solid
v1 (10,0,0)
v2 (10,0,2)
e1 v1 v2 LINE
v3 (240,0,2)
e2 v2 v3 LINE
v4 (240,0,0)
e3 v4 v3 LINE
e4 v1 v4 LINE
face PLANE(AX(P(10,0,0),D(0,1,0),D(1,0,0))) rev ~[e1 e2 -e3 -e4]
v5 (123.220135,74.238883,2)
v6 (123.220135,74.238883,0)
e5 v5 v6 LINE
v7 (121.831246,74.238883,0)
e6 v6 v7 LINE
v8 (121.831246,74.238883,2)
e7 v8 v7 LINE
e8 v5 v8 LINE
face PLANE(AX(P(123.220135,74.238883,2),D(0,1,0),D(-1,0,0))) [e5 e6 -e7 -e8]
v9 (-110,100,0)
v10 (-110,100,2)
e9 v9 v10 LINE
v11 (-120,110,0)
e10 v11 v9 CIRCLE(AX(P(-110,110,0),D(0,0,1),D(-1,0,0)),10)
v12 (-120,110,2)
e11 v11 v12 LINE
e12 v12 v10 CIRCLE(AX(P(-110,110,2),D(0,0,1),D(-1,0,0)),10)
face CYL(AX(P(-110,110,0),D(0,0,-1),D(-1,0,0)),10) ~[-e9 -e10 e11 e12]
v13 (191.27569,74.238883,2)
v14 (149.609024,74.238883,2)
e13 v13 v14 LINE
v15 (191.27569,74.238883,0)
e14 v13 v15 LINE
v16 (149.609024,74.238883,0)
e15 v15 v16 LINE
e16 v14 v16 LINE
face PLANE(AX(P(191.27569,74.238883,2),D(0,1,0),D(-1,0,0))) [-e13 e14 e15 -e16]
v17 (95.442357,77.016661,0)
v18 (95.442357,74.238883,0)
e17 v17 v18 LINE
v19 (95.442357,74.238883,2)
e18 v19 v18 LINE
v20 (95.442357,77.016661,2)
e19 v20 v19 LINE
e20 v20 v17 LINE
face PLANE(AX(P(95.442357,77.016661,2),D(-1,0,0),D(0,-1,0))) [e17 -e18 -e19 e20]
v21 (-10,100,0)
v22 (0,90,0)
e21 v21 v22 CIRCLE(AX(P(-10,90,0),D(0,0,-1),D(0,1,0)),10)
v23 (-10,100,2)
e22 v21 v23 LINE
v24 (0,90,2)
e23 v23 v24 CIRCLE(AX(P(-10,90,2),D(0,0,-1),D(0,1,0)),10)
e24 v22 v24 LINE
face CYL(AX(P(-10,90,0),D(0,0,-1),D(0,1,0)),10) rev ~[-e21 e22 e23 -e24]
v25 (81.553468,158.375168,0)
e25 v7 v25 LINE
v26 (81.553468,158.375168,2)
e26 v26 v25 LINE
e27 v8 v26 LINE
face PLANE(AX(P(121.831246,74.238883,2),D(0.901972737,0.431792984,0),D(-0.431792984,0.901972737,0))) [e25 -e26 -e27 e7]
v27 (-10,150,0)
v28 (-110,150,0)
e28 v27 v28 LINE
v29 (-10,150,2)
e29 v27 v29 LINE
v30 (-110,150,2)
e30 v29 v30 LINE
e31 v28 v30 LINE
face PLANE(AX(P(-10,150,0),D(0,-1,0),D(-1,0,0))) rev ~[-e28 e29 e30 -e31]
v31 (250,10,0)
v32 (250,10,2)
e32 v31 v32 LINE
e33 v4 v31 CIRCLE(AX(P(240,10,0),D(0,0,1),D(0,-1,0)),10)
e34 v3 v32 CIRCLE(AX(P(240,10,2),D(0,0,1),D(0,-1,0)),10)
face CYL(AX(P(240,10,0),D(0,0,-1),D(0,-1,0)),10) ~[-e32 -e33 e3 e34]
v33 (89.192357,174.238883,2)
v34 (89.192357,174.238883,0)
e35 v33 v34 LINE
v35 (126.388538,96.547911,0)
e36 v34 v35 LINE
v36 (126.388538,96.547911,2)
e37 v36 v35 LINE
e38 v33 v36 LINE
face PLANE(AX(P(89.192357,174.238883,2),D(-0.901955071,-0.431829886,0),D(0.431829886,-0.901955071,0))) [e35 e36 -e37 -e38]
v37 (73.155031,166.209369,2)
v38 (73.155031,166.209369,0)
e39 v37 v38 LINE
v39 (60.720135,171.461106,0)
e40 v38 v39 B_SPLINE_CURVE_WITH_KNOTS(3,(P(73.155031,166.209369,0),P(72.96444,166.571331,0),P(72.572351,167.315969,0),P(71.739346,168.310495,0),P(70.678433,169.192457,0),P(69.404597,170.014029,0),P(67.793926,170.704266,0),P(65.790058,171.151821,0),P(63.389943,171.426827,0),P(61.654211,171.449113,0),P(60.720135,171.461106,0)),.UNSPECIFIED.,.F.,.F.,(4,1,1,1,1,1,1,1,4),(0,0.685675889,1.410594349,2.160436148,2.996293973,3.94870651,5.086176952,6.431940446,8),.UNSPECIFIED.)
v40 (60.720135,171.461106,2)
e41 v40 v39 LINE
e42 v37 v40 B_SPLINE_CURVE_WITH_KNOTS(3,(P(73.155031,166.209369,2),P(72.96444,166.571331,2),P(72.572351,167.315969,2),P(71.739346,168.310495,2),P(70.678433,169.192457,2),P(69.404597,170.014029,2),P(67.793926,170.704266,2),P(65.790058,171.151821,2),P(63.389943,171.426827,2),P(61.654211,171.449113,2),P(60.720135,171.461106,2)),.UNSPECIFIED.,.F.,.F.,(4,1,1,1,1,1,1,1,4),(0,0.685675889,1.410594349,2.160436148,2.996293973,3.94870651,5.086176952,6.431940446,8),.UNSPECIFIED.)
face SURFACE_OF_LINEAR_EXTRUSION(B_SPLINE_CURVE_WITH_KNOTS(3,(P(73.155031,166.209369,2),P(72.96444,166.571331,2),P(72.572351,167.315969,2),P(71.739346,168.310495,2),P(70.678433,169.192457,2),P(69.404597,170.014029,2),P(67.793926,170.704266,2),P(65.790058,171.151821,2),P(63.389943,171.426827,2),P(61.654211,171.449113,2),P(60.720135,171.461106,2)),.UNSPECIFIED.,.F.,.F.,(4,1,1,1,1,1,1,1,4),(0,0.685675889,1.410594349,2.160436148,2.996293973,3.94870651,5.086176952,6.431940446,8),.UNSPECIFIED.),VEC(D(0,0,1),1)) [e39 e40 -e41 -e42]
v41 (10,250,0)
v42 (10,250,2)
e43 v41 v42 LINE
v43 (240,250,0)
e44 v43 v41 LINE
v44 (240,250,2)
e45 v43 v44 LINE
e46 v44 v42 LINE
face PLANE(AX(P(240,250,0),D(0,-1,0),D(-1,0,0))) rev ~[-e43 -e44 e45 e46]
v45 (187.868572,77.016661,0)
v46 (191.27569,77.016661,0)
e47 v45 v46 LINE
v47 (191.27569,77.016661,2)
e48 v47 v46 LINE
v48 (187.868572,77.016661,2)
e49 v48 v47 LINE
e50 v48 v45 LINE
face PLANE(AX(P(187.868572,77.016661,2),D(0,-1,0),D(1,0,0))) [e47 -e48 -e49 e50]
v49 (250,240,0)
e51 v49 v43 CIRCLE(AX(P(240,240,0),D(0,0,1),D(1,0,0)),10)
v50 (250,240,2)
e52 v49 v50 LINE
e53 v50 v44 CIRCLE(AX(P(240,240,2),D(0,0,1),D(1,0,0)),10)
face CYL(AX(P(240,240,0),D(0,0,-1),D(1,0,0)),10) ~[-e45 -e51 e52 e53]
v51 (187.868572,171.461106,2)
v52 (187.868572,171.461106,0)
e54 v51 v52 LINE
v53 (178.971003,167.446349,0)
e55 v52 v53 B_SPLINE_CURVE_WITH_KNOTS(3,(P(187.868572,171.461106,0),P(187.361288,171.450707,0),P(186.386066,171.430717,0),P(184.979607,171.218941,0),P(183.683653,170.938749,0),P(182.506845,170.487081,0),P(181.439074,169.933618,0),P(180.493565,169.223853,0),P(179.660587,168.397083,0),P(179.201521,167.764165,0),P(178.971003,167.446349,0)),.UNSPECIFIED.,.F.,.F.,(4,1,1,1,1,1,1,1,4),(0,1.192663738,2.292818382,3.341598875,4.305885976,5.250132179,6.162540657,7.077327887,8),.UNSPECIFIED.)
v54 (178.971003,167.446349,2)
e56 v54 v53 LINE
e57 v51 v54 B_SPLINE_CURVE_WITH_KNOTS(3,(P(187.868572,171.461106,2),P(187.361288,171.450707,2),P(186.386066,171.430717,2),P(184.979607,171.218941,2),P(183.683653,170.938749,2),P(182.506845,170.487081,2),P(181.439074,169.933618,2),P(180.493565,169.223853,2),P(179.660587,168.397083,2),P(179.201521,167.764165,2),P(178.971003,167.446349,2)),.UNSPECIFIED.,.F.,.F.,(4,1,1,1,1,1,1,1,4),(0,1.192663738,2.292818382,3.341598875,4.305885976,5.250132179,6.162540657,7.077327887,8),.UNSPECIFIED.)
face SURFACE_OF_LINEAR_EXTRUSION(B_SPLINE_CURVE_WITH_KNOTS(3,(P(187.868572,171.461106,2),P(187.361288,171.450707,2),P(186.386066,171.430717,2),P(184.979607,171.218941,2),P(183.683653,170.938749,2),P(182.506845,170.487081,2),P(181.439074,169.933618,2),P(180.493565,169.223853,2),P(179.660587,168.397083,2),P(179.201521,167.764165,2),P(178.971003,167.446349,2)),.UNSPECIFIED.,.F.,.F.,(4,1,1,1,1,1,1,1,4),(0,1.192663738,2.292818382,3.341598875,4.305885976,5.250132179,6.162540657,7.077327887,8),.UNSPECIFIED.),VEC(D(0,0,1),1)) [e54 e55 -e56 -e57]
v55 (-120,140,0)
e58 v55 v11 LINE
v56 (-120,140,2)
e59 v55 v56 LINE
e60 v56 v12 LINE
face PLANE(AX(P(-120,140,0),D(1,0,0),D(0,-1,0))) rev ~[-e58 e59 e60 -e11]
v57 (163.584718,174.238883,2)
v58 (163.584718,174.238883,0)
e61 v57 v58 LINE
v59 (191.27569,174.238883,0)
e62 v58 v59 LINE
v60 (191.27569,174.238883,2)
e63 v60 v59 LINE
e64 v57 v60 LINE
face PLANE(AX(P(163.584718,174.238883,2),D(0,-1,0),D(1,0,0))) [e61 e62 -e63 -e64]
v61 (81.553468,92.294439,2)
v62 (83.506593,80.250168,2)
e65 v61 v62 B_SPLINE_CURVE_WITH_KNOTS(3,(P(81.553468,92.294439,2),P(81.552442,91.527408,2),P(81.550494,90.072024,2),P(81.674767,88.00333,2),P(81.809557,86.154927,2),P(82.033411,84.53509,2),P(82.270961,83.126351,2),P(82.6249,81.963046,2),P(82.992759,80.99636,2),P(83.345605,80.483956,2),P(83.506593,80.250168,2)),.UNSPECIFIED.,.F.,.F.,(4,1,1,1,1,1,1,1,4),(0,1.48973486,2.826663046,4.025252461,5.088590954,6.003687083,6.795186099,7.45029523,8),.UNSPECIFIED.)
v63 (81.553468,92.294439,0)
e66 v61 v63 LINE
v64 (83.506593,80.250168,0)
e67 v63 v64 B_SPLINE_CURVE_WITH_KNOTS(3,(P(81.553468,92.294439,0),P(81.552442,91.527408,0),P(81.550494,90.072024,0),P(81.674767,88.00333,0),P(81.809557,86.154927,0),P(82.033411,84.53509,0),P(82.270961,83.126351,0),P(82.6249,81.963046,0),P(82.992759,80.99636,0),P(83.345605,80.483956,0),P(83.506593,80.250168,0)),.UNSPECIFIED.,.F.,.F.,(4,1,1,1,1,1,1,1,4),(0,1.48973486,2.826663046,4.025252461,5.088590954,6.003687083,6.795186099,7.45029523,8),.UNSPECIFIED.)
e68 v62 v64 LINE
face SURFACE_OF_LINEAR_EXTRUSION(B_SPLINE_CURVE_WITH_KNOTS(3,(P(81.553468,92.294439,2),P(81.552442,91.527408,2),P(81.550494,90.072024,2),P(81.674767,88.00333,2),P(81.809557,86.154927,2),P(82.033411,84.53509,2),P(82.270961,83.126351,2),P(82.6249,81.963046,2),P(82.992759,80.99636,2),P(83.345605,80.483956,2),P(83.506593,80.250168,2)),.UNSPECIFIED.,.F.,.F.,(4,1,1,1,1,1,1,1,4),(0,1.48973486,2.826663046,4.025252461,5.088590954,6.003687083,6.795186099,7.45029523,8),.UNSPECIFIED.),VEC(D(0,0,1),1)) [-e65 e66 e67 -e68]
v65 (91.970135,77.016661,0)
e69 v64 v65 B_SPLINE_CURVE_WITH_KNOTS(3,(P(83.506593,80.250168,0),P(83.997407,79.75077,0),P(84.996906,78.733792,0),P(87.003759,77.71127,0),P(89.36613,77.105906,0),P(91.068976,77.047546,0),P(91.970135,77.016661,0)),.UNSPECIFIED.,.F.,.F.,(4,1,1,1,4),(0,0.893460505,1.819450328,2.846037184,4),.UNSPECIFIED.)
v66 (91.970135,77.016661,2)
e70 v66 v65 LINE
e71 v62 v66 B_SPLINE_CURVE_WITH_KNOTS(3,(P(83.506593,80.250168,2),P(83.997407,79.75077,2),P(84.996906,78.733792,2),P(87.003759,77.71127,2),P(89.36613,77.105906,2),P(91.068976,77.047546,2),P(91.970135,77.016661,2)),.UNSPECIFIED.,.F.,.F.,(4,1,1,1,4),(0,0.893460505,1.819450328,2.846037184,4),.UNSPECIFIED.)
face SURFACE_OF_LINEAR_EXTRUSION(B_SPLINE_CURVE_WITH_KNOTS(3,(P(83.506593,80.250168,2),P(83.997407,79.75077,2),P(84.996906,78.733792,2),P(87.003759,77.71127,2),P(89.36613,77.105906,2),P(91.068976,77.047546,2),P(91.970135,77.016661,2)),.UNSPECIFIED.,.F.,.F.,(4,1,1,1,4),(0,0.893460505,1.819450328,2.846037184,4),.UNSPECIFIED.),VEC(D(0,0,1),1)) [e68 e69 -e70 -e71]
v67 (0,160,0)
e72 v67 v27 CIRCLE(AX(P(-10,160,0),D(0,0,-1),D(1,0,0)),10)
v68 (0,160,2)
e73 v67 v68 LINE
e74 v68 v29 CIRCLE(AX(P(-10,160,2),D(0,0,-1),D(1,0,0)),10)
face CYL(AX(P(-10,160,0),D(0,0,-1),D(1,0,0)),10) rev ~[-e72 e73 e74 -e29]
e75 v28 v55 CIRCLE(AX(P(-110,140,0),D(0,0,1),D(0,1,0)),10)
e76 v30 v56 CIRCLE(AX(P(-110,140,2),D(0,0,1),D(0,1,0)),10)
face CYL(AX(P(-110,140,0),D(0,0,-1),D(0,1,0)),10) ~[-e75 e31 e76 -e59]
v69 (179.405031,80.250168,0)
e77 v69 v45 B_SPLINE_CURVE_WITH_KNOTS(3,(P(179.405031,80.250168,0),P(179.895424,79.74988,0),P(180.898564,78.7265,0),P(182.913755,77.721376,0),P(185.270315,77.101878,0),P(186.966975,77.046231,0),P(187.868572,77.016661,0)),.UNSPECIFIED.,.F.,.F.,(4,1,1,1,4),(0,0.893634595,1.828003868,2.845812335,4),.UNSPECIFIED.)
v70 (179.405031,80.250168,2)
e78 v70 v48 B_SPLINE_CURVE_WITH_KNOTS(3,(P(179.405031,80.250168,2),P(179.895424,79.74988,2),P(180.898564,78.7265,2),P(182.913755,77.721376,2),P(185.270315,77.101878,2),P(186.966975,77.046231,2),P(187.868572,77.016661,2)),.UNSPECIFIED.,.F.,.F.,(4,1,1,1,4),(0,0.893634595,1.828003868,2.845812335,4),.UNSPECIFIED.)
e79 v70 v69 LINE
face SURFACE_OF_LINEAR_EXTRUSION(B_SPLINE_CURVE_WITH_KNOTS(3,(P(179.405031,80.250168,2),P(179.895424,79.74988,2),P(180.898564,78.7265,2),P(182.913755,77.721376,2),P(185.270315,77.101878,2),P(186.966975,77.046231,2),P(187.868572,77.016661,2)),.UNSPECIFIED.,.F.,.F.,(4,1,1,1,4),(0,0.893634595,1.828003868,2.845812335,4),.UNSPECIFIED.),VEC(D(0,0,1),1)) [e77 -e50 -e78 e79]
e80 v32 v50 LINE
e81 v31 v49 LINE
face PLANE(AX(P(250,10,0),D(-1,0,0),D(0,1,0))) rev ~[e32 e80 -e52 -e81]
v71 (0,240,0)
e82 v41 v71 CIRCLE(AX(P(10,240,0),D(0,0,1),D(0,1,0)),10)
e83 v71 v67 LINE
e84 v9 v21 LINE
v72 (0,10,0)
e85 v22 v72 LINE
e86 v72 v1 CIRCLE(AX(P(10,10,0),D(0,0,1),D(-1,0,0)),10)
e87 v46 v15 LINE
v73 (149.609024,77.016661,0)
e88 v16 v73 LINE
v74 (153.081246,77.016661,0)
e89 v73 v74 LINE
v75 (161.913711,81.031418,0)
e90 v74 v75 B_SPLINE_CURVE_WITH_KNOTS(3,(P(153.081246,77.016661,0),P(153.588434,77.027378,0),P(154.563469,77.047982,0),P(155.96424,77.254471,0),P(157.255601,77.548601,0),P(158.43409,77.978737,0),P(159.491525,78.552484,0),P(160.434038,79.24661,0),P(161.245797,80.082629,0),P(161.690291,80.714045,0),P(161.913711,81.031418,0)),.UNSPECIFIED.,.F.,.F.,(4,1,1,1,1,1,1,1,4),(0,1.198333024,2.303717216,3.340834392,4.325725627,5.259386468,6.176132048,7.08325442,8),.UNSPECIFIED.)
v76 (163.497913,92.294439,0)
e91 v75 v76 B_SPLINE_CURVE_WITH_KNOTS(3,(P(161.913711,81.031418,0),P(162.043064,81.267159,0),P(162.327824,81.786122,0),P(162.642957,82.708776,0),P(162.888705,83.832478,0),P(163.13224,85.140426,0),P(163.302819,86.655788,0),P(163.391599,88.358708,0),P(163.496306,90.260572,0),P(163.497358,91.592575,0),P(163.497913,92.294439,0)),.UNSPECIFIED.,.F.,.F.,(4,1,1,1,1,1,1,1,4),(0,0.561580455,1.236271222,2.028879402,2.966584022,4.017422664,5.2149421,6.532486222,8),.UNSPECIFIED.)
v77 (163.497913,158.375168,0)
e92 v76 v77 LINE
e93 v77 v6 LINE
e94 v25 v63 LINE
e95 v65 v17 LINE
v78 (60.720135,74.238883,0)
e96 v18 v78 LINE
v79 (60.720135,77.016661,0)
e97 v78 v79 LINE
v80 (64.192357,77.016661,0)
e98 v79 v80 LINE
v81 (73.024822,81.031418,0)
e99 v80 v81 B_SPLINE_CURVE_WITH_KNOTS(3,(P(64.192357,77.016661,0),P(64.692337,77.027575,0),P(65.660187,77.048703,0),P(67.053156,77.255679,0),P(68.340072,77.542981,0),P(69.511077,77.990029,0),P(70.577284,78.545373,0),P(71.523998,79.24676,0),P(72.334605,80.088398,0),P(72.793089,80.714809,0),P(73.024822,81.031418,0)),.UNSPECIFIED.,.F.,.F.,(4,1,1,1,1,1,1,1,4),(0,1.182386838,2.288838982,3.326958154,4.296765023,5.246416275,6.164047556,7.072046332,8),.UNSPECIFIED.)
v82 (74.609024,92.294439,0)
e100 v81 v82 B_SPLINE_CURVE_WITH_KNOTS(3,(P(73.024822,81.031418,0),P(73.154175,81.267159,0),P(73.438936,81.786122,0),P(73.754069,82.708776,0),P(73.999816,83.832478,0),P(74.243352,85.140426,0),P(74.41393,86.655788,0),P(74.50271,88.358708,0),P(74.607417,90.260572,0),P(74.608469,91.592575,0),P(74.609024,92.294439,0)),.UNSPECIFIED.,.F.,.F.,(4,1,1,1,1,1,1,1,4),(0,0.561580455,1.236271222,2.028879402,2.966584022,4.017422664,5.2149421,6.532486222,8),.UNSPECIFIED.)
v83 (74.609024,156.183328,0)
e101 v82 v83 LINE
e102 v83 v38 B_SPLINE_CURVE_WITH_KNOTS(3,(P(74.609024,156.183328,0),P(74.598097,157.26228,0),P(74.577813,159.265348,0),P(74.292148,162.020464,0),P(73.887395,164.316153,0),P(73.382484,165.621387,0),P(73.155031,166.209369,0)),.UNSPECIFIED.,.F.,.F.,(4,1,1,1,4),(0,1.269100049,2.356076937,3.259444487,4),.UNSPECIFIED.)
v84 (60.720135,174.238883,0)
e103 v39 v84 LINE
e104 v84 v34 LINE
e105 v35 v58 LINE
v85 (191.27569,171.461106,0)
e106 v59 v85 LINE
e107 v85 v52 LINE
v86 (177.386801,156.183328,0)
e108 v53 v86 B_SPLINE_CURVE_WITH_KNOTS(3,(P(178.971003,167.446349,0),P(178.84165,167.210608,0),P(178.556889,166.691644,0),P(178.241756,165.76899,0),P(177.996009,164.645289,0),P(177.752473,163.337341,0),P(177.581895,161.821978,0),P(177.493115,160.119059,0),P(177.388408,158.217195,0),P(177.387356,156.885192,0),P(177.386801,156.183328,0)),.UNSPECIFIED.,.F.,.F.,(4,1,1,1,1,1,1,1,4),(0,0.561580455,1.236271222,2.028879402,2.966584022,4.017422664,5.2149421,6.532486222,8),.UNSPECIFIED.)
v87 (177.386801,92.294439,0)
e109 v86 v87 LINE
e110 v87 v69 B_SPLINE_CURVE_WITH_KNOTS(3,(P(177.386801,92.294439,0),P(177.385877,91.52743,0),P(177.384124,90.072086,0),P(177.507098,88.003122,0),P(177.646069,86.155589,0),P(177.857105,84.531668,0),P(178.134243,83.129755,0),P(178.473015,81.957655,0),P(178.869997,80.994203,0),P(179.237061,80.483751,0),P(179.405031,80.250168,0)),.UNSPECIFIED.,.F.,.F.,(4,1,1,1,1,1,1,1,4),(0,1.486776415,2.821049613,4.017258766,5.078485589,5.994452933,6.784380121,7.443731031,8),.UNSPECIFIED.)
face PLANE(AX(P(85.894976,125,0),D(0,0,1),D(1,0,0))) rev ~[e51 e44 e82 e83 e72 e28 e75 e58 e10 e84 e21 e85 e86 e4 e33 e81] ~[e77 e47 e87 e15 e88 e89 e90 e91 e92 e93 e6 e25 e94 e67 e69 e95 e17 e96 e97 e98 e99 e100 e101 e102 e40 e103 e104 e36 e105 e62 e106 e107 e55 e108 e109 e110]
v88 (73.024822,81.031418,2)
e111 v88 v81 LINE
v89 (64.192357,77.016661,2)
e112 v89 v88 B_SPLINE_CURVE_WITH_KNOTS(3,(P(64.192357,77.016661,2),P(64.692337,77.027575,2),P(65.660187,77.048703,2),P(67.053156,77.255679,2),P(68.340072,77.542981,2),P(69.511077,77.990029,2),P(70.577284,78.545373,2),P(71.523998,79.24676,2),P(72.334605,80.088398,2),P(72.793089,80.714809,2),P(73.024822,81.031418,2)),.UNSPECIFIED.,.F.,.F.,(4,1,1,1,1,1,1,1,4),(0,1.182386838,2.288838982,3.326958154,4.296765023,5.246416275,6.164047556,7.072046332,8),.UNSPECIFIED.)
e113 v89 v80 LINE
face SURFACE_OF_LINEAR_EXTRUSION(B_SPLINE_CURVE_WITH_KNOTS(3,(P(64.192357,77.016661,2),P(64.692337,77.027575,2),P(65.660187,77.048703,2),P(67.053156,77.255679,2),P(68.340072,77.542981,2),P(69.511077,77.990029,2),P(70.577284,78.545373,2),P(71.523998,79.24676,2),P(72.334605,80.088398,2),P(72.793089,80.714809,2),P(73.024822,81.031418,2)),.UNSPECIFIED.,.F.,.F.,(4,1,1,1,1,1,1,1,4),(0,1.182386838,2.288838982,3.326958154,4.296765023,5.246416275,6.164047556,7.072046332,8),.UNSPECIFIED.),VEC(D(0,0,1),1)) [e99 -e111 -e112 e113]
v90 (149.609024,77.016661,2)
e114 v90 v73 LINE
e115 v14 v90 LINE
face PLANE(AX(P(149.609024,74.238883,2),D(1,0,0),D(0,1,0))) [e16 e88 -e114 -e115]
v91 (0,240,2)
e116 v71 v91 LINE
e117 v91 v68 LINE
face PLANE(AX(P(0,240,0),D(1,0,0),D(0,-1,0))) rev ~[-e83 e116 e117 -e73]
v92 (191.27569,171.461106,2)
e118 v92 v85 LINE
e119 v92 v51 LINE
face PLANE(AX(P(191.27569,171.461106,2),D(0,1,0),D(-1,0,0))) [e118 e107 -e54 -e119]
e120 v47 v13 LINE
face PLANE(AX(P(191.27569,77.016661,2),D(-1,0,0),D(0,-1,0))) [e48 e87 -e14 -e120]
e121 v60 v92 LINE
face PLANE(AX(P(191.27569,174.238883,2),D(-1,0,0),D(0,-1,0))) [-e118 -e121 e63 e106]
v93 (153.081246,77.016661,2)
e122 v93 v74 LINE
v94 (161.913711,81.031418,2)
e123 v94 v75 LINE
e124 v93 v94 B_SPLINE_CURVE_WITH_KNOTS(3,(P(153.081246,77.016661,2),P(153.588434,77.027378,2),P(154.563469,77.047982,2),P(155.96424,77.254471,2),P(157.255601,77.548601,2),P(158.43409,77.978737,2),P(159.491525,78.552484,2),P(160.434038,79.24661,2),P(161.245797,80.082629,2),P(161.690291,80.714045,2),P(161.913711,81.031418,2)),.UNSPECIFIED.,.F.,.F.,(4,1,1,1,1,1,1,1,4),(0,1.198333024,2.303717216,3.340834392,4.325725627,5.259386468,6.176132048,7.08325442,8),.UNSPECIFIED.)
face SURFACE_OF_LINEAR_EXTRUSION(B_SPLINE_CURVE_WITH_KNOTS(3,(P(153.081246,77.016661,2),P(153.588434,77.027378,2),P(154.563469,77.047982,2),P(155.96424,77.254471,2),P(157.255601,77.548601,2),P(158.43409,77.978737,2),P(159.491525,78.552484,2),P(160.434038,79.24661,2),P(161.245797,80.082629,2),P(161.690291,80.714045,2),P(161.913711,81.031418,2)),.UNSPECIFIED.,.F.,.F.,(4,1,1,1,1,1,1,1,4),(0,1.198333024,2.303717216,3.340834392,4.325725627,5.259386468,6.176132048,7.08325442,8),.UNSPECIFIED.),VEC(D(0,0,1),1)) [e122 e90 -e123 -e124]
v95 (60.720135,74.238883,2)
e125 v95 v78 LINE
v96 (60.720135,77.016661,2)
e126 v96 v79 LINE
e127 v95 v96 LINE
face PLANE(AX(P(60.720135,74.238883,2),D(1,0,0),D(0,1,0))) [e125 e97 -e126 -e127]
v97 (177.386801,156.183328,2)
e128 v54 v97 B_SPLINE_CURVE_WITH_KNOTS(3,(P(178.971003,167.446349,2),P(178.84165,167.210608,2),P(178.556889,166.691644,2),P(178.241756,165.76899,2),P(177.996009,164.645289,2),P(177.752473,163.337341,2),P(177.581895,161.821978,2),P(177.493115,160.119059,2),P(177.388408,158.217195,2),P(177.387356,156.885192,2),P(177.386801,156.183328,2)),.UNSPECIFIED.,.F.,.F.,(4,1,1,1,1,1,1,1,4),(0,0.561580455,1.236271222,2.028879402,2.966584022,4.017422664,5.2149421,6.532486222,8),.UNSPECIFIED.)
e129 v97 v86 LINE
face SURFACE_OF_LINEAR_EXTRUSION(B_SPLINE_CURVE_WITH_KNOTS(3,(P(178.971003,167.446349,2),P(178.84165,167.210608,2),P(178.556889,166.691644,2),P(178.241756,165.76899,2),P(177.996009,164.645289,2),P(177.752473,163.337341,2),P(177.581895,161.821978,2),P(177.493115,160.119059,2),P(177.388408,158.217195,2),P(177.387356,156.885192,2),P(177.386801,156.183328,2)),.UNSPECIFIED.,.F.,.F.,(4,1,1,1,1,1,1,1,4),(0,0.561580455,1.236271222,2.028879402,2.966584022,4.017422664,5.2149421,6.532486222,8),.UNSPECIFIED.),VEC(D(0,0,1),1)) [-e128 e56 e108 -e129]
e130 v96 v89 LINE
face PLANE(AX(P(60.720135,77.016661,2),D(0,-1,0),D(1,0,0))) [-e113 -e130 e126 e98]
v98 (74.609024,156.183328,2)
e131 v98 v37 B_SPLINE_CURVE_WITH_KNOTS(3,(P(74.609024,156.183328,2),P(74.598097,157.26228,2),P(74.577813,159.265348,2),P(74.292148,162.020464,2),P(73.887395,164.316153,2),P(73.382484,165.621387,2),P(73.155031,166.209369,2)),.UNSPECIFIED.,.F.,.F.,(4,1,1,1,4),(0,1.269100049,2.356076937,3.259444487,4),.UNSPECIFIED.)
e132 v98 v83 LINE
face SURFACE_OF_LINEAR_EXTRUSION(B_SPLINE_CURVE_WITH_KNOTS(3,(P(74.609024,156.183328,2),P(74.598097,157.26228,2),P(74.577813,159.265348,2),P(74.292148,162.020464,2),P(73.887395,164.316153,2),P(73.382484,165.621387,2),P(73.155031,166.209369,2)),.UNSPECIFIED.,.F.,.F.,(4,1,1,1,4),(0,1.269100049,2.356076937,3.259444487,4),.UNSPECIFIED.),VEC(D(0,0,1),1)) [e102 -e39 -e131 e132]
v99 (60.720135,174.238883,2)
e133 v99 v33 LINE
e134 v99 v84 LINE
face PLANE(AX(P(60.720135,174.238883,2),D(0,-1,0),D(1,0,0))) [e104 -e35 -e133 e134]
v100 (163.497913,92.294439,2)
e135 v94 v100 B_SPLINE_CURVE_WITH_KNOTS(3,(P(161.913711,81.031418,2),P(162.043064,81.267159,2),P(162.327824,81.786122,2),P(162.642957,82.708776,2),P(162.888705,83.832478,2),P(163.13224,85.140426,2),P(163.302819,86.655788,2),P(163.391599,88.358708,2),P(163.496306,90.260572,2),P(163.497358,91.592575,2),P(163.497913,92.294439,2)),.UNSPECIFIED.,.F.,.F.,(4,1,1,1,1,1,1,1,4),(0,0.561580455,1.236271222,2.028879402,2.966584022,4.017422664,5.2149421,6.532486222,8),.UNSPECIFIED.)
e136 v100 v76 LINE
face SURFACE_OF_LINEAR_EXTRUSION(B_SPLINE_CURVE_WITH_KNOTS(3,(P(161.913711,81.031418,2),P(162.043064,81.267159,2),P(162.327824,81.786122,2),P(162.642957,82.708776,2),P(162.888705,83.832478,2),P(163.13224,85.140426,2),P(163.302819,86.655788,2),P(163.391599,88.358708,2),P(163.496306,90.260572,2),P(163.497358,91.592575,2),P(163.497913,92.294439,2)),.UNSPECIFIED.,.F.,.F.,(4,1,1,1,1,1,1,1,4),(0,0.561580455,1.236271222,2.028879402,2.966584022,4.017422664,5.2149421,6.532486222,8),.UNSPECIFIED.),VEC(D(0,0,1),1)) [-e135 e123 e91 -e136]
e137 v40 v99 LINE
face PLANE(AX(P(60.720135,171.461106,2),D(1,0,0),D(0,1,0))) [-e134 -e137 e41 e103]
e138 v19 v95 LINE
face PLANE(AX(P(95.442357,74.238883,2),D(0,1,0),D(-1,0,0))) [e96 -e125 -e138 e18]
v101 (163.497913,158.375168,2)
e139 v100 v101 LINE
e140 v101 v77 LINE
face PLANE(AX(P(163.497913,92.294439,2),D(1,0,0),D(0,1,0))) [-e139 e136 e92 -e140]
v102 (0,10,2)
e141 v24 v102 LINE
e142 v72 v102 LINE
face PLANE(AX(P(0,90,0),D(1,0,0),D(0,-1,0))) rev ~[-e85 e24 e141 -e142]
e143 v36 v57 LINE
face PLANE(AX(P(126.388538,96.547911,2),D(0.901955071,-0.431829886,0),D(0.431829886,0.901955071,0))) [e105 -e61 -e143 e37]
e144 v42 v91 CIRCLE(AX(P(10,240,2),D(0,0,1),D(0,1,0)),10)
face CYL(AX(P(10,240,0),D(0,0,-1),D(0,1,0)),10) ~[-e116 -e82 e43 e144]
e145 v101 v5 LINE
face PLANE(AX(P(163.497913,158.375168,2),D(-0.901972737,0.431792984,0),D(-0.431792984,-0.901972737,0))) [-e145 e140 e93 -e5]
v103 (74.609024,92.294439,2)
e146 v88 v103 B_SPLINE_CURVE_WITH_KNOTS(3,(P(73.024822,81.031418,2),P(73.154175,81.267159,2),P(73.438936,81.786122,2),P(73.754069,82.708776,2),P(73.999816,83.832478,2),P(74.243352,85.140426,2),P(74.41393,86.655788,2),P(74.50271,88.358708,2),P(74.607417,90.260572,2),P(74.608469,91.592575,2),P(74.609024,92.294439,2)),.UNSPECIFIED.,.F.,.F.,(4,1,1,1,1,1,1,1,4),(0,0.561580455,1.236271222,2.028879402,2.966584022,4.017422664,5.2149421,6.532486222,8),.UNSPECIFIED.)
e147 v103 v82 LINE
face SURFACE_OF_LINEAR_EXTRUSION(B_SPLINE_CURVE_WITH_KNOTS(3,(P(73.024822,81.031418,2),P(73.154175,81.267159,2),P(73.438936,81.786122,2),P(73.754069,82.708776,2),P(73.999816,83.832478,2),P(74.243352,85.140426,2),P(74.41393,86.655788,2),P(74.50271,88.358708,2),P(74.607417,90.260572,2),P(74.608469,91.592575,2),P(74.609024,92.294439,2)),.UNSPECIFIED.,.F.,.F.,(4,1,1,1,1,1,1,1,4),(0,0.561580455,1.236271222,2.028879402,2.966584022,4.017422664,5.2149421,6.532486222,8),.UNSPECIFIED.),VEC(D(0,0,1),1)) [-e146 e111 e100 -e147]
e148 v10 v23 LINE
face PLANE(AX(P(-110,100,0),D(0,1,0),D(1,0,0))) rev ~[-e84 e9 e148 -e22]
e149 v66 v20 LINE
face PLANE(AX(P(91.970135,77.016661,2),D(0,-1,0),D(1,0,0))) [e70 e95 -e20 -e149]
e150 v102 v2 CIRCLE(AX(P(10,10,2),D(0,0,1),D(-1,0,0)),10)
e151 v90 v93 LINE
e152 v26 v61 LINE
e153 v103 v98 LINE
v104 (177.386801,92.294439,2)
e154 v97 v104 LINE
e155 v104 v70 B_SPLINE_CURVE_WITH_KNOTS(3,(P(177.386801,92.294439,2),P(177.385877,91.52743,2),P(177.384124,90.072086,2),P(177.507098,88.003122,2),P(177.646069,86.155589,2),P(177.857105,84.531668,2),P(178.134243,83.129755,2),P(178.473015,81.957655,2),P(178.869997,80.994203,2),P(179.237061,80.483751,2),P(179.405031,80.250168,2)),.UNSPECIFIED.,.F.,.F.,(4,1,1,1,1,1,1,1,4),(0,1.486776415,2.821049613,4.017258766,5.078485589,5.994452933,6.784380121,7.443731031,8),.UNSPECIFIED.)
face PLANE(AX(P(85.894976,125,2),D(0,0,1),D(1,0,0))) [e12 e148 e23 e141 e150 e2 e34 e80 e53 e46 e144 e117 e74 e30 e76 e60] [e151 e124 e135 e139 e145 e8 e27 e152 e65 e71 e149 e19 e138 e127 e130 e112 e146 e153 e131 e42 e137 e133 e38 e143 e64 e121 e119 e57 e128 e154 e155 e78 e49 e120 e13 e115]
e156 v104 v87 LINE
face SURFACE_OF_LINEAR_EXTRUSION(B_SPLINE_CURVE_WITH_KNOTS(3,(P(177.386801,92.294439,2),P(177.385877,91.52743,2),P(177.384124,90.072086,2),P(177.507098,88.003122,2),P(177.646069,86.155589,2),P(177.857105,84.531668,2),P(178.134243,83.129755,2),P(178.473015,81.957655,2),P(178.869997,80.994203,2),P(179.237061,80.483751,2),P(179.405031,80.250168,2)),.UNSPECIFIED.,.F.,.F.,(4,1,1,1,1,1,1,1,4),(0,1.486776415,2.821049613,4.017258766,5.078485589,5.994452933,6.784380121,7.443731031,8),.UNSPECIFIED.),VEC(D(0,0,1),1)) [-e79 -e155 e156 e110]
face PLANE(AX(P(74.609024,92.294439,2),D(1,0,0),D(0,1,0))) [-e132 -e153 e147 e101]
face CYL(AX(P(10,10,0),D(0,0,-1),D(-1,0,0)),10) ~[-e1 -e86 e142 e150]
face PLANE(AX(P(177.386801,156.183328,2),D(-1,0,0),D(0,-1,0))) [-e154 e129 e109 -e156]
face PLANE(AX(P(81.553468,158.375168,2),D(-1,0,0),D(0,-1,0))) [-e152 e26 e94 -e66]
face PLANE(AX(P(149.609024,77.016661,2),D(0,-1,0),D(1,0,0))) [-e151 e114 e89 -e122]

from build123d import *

# Parameters (mm, degrees)
BOSS_EXTRUDE1_DEPTH = 2
CUT_EXTRUDE1_DEPTH  = 2


with BuildPart() as part:
    # Sketch1 → Boss-Extrude1 (new body)
    with BuildSketch(Plane.XY):
        with BuildLine():
            Line((10, 0), (240, 0))
            ThreePointArc((240, 0), (247.071067812, 2.928932188), (250, 10))
            Line((250, 10), (250, 240))
            ThreePointArc((250, 240), (247.071067812, 247.071067812), (240, 250))
            Line((240, 250), (10, 250))
            ThreePointArc((10, 250), (2.928932188, 247.071067812), (0, 240))
            Line((0, 240), (0, 160))
            ThreePointArc((0, 160), (-2.928932188, 152.928932188), (-10, 150))
            Line((-10, 150), (-110, 150))
            ThreePointArc((-110, 150), (-117.071067812, 147.071067812), (-120, 140))
            Line((-120, 140), (-120, 110))
            ThreePointArc((-120, 110), (-117.071067812, 102.928932188), (-110, 100))
            Line((-110, 100), (-10, 100))
            ThreePointArc((-10, 100), (-2.928932188, 97.071067812), (0, 90))
            Line((0, 90), (0, 10))
            ThreePointArc((0, 10), (2.928932188, 2.928932188), (10, 0))
        make_face()
    extrude(amount=BOSS_EXTRUDE1_DEPTH)

    # Sketch2 → Cut-Extrude1 (cut)
    with BuildSketch(Plane.XY.offset(2)):
        with BuildLine():
            Line((121.831245853, 74.238883319), (81.553468075, 158.375168042))
            Line((81.553468075, 158.375168042), (81.553468075, 92.294438875))
            add(Edge.make_bspline(
                [(81.553468075, 92.294438875), (81.552441695, 91.527408259), (81.550494213, 90.07202371), (81.67476659, 88.003330285), (81.809557178, 86.154926562), (82.033410561, 84.535090304), (82.270961447, 83.126350994), (82.624899995, 81.963045824), (82.992758599, 80.996359886), (83.345604613, 80.48395593), (83.506593075, 80.250168042)],
                knots=[0, 0, 0, 0, 1.48973486, 2.826663046, 4.025252461, 5.088590954, 6.003687083, 6.795186099, 7.45029523, 8, 8, 8, 8], degree=3))
            add(Edge.make_bspline(
                [(83.506593075, 80.250168042), (83.997407371, 79.750770196), (84.996905643, 78.733792313), (87.003759394, 77.711270113), (89.366130367, 77.105906039), (91.068976257, 77.047545775), (91.970134742, 77.016661097)],
                knots=[0, 0, 0, 0, 0.893460505, 1.819450328, 2.846037184, 4, 4, 4, 4], degree=3))
            Line((91.970134742, 77.016661097), (95.442356964, 77.016661097))
            Line((95.442356964, 77.016661097), (95.442356964, 74.238883319))
            Line((95.442356964, 74.238883319), (60.720134742, 74.238883319))
            Line((60.720134742, 74.238883319), (60.720134742, 77.016661097))
            Line((60.720134742, 77.016661097), (64.192356964, 77.016661097))
            add(Edge.make_bspline(
                [(64.192356964, 77.016661097), (64.692336968, 77.027575423), (65.660187495, 77.048703141), (67.053155801, 77.255679207), (68.340072371, 77.542980734), (69.511077493, 77.990029314), (70.577284489, 78.54537262), (71.523997685, 79.246760067), (72.334604766, 80.088398233), (72.793088669, 80.714808629), (73.024822242, 81.031418042)],
                knots=[0, 0, 0, 0, 1.182386838, 2.288838982, 3.326958154, 4.296765023, 5.246416275, 6.164047556, 7.072046332, 8, 8, 8, 8], degree=3))
            add(Edge.make_bspline(
                [(73.024822242, 81.031418042), (73.154175481, 81.267158908), (73.438935547, 81.786122213), (73.754068555, 82.7087764), (73.999815936, 83.832477906), (74.243351558, 85.140425739), (74.413930293, 86.655788373), (74.502709761, 88.358707772), (74.607417007, 90.260571867), (74.608469203, 91.592574666), (74.609023631, 92.294438875)],
                knots=[0, 0, 0, 0, 0.561580455, 1.236271222, 2.028879402, 2.966584022, 4.017422664, 5.2149421, 6.532486222, 8, 8, 8, 8], degree=3))
            Line((74.609023631, 92.294438875), (74.609023631, 156.183327764))
            add(Edge.make_bspline(
                [(74.609023631, 156.183327764), (74.598097419, 157.262279808), (74.57781297, 159.265348068), (74.292147678, 162.020464101), (73.887395445, 164.316152629), (73.38248359, 165.621386735), (73.155030575, 166.20936943)],
                knots=[0, 0, 0, 0, 1.269100049, 2.356076937, 3.259444487, 4, 4, 4, 4], degree=3))
            add(Edge.make_bspline(
                [(73.155030575, 166.20936943), (72.964440038, 166.571330676), (72.572351095, 167.315968917), (71.739346077, 168.310495354), (70.678433406, 169.192456789), (69.404596857, 170.014029453), (67.793926343, 170.70426646), (65.790057774, 171.151821363), (63.389943364, 171.426827209), (61.654210729, 171.449112709), (60.720134742, 171.461105542)],
                knots=[0, 0, 0, 0, 0.685675889, 1.410594349, 2.160436148, 2.996293973, 3.94870651, 5.086176952, 6.431940446, 8, 8, 8, 8], degree=3))
            Line((60.720134742, 171.461105542), (60.720134742, 174.238883319))
            Line((60.720134742, 174.238883319), (89.192356964, 174.238883319))
            Line((89.192356964, 174.238883319), (126.38853752, 96.547911097))
            Line((126.38853752, 96.547911097), (163.584718075, 174.238883319))
            Line((163.584718075, 174.238883319), (191.275690297, 174.238883319))
            Line((191.275690297, 174.238883319), (191.275690297, 171.461105542))
            Line((191.275690297, 171.461105542), (187.868572242, 171.461105542))
            add(Edge.make_bspline(
                [(187.868572242, 171.461105542), (187.361287545, 171.450707073), (186.386065744, 171.430716694), (184.979607429, 171.218940655), (183.683652592, 170.938748781), (182.506844601, 170.48708074), (181.439074078, 169.933617837), (180.493564629, 169.223853404), (179.660586682, 168.397082941), (179.201520738, 167.764165368), (178.971002797, 167.446348597)],
                knots=[0, 0, 0, 0, 1.192663738, 2.292818382, 3.341598875, 4.305885976, 5.250132179, 6.162540657, 7.077327887, 8, 8, 8, 8], degree=3))
            add(Edge.make_bspline(
                [(178.971002797, 167.446348597), (178.841649558, 167.210607731), (178.556889492, 166.691644426), (178.241756484, 165.768990238), (177.996009103, 164.645288733), (177.752473481, 163.3373409), (177.581894746, 161.821978266), (177.493115279, 160.119058867), (177.388408032, 158.217194771), (177.387355836, 156.885191972), (177.386801408, 156.183327764)],
                knots=[0, 0, 0, 0, 0.561580455, 1.236271222, 2.028879402, 2.966584022, 4.017422664, 5.2149421, 6.532486222, 8, 8, 8, 8], degree=3))
            Line((177.386801408, 156.183327764), (177.386801408, 92.294438875))
            add(Edge.make_bspline(
                [(177.386801408, 92.294438875), (177.385877428, 91.527429602), (177.384124243, 90.072085551), (177.507098339, 88.003121526), (177.646069278, 86.155589108), (177.85710522, 84.531668283), (178.13424254, 83.12975452), (178.473014721, 81.957654643), (178.8699969, 80.994203331), (179.237061444, 80.483751398), (179.405030575, 80.250168042)],
                knots=[0, 0, 0, 0, 1.486776415, 2.821049613, 4.017258766, 5.078485589, 5.994452933, 6.784380121, 7.443731031, 8, 8, 8, 8], degree=3))
            add(Edge.make_bspline(
                [(179.405030575, 80.250168042), (179.895423699, 79.749880201), (180.898563608, 78.726499826), (182.913754693, 77.721375862), (185.270314869, 77.101877529), (186.966975459, 77.046231247), (187.868572242, 77.016661097)],
                knots=[0, 0, 0, 0, 0.893634595, 1.828003868, 2.845812335, 4, 4, 4, 4], degree=3))
            Line((187.868572242, 77.016661097), (191.275690297, 77.016661097))
            Line((191.275690297, 77.016661097), (191.275690297, 74.238883319))
            Line((191.275690297, 74.238883319), (149.609023631, 74.238883319))
            Line((149.609023631, 74.238883319), (149.609023631, 77.016661097))
            Line((149.609023631, 77.016661097), (153.081245853, 77.016661097))
            add(Edge.make_bspline(
                [(153.081245853, 77.016661097), (153.588433734, 77.027378344), (154.563469412, 77.047981553), (155.964240322, 77.254470656), (157.255601407, 77.548600741), (158.43409031, 77.978736677), (159.491525168, 78.55248399), (160.434038314, 79.246610187), (161.24579725, 80.082629427), (161.690291414, 80.714044665), (161.913711131, 81.031418042)],
                knots=[0, 0, 0, 0, 1.198333024, 2.303717216, 3.340834392, 4.325725627, 5.259386468, 6.176132048, 7.08325442, 8, 8, 8, 8], degree=3))
            add(Edge.make_bspline(
                [(161.913711131, 81.031418042), (162.04306437, 81.267158908), (162.327824436, 81.786122213), (162.642957444, 82.7087764), (162.888704825, 83.832477906), (163.132240447, 85.140425739), (163.302819182, 86.655788373), (163.391598649, 88.358707772), (163.496305896, 90.260571867), (163.497358092, 91.592574666), (163.49791252, 92.294438875)],
                knots=[0, 0, 0, 0, 0.561580455, 1.236271222, 2.028879402, 2.966584022, 4.017422664, 5.2149421, 6.532486222, 8, 8, 8, 8], degree=3))
            Line((163.49791252, 92.294438875), (163.49791252, 158.375168042))
            Line((163.49791252, 158.375168042), (123.220134742, 74.238883319))
            Line((123.220134742, 74.238883319), (121.831245853, 74.238883319))
        make_face()
    extrude(amount=-CUT_EXTRUDE1_DEPTH, mode=Mode.SUBTRACT)


solid = part.part
